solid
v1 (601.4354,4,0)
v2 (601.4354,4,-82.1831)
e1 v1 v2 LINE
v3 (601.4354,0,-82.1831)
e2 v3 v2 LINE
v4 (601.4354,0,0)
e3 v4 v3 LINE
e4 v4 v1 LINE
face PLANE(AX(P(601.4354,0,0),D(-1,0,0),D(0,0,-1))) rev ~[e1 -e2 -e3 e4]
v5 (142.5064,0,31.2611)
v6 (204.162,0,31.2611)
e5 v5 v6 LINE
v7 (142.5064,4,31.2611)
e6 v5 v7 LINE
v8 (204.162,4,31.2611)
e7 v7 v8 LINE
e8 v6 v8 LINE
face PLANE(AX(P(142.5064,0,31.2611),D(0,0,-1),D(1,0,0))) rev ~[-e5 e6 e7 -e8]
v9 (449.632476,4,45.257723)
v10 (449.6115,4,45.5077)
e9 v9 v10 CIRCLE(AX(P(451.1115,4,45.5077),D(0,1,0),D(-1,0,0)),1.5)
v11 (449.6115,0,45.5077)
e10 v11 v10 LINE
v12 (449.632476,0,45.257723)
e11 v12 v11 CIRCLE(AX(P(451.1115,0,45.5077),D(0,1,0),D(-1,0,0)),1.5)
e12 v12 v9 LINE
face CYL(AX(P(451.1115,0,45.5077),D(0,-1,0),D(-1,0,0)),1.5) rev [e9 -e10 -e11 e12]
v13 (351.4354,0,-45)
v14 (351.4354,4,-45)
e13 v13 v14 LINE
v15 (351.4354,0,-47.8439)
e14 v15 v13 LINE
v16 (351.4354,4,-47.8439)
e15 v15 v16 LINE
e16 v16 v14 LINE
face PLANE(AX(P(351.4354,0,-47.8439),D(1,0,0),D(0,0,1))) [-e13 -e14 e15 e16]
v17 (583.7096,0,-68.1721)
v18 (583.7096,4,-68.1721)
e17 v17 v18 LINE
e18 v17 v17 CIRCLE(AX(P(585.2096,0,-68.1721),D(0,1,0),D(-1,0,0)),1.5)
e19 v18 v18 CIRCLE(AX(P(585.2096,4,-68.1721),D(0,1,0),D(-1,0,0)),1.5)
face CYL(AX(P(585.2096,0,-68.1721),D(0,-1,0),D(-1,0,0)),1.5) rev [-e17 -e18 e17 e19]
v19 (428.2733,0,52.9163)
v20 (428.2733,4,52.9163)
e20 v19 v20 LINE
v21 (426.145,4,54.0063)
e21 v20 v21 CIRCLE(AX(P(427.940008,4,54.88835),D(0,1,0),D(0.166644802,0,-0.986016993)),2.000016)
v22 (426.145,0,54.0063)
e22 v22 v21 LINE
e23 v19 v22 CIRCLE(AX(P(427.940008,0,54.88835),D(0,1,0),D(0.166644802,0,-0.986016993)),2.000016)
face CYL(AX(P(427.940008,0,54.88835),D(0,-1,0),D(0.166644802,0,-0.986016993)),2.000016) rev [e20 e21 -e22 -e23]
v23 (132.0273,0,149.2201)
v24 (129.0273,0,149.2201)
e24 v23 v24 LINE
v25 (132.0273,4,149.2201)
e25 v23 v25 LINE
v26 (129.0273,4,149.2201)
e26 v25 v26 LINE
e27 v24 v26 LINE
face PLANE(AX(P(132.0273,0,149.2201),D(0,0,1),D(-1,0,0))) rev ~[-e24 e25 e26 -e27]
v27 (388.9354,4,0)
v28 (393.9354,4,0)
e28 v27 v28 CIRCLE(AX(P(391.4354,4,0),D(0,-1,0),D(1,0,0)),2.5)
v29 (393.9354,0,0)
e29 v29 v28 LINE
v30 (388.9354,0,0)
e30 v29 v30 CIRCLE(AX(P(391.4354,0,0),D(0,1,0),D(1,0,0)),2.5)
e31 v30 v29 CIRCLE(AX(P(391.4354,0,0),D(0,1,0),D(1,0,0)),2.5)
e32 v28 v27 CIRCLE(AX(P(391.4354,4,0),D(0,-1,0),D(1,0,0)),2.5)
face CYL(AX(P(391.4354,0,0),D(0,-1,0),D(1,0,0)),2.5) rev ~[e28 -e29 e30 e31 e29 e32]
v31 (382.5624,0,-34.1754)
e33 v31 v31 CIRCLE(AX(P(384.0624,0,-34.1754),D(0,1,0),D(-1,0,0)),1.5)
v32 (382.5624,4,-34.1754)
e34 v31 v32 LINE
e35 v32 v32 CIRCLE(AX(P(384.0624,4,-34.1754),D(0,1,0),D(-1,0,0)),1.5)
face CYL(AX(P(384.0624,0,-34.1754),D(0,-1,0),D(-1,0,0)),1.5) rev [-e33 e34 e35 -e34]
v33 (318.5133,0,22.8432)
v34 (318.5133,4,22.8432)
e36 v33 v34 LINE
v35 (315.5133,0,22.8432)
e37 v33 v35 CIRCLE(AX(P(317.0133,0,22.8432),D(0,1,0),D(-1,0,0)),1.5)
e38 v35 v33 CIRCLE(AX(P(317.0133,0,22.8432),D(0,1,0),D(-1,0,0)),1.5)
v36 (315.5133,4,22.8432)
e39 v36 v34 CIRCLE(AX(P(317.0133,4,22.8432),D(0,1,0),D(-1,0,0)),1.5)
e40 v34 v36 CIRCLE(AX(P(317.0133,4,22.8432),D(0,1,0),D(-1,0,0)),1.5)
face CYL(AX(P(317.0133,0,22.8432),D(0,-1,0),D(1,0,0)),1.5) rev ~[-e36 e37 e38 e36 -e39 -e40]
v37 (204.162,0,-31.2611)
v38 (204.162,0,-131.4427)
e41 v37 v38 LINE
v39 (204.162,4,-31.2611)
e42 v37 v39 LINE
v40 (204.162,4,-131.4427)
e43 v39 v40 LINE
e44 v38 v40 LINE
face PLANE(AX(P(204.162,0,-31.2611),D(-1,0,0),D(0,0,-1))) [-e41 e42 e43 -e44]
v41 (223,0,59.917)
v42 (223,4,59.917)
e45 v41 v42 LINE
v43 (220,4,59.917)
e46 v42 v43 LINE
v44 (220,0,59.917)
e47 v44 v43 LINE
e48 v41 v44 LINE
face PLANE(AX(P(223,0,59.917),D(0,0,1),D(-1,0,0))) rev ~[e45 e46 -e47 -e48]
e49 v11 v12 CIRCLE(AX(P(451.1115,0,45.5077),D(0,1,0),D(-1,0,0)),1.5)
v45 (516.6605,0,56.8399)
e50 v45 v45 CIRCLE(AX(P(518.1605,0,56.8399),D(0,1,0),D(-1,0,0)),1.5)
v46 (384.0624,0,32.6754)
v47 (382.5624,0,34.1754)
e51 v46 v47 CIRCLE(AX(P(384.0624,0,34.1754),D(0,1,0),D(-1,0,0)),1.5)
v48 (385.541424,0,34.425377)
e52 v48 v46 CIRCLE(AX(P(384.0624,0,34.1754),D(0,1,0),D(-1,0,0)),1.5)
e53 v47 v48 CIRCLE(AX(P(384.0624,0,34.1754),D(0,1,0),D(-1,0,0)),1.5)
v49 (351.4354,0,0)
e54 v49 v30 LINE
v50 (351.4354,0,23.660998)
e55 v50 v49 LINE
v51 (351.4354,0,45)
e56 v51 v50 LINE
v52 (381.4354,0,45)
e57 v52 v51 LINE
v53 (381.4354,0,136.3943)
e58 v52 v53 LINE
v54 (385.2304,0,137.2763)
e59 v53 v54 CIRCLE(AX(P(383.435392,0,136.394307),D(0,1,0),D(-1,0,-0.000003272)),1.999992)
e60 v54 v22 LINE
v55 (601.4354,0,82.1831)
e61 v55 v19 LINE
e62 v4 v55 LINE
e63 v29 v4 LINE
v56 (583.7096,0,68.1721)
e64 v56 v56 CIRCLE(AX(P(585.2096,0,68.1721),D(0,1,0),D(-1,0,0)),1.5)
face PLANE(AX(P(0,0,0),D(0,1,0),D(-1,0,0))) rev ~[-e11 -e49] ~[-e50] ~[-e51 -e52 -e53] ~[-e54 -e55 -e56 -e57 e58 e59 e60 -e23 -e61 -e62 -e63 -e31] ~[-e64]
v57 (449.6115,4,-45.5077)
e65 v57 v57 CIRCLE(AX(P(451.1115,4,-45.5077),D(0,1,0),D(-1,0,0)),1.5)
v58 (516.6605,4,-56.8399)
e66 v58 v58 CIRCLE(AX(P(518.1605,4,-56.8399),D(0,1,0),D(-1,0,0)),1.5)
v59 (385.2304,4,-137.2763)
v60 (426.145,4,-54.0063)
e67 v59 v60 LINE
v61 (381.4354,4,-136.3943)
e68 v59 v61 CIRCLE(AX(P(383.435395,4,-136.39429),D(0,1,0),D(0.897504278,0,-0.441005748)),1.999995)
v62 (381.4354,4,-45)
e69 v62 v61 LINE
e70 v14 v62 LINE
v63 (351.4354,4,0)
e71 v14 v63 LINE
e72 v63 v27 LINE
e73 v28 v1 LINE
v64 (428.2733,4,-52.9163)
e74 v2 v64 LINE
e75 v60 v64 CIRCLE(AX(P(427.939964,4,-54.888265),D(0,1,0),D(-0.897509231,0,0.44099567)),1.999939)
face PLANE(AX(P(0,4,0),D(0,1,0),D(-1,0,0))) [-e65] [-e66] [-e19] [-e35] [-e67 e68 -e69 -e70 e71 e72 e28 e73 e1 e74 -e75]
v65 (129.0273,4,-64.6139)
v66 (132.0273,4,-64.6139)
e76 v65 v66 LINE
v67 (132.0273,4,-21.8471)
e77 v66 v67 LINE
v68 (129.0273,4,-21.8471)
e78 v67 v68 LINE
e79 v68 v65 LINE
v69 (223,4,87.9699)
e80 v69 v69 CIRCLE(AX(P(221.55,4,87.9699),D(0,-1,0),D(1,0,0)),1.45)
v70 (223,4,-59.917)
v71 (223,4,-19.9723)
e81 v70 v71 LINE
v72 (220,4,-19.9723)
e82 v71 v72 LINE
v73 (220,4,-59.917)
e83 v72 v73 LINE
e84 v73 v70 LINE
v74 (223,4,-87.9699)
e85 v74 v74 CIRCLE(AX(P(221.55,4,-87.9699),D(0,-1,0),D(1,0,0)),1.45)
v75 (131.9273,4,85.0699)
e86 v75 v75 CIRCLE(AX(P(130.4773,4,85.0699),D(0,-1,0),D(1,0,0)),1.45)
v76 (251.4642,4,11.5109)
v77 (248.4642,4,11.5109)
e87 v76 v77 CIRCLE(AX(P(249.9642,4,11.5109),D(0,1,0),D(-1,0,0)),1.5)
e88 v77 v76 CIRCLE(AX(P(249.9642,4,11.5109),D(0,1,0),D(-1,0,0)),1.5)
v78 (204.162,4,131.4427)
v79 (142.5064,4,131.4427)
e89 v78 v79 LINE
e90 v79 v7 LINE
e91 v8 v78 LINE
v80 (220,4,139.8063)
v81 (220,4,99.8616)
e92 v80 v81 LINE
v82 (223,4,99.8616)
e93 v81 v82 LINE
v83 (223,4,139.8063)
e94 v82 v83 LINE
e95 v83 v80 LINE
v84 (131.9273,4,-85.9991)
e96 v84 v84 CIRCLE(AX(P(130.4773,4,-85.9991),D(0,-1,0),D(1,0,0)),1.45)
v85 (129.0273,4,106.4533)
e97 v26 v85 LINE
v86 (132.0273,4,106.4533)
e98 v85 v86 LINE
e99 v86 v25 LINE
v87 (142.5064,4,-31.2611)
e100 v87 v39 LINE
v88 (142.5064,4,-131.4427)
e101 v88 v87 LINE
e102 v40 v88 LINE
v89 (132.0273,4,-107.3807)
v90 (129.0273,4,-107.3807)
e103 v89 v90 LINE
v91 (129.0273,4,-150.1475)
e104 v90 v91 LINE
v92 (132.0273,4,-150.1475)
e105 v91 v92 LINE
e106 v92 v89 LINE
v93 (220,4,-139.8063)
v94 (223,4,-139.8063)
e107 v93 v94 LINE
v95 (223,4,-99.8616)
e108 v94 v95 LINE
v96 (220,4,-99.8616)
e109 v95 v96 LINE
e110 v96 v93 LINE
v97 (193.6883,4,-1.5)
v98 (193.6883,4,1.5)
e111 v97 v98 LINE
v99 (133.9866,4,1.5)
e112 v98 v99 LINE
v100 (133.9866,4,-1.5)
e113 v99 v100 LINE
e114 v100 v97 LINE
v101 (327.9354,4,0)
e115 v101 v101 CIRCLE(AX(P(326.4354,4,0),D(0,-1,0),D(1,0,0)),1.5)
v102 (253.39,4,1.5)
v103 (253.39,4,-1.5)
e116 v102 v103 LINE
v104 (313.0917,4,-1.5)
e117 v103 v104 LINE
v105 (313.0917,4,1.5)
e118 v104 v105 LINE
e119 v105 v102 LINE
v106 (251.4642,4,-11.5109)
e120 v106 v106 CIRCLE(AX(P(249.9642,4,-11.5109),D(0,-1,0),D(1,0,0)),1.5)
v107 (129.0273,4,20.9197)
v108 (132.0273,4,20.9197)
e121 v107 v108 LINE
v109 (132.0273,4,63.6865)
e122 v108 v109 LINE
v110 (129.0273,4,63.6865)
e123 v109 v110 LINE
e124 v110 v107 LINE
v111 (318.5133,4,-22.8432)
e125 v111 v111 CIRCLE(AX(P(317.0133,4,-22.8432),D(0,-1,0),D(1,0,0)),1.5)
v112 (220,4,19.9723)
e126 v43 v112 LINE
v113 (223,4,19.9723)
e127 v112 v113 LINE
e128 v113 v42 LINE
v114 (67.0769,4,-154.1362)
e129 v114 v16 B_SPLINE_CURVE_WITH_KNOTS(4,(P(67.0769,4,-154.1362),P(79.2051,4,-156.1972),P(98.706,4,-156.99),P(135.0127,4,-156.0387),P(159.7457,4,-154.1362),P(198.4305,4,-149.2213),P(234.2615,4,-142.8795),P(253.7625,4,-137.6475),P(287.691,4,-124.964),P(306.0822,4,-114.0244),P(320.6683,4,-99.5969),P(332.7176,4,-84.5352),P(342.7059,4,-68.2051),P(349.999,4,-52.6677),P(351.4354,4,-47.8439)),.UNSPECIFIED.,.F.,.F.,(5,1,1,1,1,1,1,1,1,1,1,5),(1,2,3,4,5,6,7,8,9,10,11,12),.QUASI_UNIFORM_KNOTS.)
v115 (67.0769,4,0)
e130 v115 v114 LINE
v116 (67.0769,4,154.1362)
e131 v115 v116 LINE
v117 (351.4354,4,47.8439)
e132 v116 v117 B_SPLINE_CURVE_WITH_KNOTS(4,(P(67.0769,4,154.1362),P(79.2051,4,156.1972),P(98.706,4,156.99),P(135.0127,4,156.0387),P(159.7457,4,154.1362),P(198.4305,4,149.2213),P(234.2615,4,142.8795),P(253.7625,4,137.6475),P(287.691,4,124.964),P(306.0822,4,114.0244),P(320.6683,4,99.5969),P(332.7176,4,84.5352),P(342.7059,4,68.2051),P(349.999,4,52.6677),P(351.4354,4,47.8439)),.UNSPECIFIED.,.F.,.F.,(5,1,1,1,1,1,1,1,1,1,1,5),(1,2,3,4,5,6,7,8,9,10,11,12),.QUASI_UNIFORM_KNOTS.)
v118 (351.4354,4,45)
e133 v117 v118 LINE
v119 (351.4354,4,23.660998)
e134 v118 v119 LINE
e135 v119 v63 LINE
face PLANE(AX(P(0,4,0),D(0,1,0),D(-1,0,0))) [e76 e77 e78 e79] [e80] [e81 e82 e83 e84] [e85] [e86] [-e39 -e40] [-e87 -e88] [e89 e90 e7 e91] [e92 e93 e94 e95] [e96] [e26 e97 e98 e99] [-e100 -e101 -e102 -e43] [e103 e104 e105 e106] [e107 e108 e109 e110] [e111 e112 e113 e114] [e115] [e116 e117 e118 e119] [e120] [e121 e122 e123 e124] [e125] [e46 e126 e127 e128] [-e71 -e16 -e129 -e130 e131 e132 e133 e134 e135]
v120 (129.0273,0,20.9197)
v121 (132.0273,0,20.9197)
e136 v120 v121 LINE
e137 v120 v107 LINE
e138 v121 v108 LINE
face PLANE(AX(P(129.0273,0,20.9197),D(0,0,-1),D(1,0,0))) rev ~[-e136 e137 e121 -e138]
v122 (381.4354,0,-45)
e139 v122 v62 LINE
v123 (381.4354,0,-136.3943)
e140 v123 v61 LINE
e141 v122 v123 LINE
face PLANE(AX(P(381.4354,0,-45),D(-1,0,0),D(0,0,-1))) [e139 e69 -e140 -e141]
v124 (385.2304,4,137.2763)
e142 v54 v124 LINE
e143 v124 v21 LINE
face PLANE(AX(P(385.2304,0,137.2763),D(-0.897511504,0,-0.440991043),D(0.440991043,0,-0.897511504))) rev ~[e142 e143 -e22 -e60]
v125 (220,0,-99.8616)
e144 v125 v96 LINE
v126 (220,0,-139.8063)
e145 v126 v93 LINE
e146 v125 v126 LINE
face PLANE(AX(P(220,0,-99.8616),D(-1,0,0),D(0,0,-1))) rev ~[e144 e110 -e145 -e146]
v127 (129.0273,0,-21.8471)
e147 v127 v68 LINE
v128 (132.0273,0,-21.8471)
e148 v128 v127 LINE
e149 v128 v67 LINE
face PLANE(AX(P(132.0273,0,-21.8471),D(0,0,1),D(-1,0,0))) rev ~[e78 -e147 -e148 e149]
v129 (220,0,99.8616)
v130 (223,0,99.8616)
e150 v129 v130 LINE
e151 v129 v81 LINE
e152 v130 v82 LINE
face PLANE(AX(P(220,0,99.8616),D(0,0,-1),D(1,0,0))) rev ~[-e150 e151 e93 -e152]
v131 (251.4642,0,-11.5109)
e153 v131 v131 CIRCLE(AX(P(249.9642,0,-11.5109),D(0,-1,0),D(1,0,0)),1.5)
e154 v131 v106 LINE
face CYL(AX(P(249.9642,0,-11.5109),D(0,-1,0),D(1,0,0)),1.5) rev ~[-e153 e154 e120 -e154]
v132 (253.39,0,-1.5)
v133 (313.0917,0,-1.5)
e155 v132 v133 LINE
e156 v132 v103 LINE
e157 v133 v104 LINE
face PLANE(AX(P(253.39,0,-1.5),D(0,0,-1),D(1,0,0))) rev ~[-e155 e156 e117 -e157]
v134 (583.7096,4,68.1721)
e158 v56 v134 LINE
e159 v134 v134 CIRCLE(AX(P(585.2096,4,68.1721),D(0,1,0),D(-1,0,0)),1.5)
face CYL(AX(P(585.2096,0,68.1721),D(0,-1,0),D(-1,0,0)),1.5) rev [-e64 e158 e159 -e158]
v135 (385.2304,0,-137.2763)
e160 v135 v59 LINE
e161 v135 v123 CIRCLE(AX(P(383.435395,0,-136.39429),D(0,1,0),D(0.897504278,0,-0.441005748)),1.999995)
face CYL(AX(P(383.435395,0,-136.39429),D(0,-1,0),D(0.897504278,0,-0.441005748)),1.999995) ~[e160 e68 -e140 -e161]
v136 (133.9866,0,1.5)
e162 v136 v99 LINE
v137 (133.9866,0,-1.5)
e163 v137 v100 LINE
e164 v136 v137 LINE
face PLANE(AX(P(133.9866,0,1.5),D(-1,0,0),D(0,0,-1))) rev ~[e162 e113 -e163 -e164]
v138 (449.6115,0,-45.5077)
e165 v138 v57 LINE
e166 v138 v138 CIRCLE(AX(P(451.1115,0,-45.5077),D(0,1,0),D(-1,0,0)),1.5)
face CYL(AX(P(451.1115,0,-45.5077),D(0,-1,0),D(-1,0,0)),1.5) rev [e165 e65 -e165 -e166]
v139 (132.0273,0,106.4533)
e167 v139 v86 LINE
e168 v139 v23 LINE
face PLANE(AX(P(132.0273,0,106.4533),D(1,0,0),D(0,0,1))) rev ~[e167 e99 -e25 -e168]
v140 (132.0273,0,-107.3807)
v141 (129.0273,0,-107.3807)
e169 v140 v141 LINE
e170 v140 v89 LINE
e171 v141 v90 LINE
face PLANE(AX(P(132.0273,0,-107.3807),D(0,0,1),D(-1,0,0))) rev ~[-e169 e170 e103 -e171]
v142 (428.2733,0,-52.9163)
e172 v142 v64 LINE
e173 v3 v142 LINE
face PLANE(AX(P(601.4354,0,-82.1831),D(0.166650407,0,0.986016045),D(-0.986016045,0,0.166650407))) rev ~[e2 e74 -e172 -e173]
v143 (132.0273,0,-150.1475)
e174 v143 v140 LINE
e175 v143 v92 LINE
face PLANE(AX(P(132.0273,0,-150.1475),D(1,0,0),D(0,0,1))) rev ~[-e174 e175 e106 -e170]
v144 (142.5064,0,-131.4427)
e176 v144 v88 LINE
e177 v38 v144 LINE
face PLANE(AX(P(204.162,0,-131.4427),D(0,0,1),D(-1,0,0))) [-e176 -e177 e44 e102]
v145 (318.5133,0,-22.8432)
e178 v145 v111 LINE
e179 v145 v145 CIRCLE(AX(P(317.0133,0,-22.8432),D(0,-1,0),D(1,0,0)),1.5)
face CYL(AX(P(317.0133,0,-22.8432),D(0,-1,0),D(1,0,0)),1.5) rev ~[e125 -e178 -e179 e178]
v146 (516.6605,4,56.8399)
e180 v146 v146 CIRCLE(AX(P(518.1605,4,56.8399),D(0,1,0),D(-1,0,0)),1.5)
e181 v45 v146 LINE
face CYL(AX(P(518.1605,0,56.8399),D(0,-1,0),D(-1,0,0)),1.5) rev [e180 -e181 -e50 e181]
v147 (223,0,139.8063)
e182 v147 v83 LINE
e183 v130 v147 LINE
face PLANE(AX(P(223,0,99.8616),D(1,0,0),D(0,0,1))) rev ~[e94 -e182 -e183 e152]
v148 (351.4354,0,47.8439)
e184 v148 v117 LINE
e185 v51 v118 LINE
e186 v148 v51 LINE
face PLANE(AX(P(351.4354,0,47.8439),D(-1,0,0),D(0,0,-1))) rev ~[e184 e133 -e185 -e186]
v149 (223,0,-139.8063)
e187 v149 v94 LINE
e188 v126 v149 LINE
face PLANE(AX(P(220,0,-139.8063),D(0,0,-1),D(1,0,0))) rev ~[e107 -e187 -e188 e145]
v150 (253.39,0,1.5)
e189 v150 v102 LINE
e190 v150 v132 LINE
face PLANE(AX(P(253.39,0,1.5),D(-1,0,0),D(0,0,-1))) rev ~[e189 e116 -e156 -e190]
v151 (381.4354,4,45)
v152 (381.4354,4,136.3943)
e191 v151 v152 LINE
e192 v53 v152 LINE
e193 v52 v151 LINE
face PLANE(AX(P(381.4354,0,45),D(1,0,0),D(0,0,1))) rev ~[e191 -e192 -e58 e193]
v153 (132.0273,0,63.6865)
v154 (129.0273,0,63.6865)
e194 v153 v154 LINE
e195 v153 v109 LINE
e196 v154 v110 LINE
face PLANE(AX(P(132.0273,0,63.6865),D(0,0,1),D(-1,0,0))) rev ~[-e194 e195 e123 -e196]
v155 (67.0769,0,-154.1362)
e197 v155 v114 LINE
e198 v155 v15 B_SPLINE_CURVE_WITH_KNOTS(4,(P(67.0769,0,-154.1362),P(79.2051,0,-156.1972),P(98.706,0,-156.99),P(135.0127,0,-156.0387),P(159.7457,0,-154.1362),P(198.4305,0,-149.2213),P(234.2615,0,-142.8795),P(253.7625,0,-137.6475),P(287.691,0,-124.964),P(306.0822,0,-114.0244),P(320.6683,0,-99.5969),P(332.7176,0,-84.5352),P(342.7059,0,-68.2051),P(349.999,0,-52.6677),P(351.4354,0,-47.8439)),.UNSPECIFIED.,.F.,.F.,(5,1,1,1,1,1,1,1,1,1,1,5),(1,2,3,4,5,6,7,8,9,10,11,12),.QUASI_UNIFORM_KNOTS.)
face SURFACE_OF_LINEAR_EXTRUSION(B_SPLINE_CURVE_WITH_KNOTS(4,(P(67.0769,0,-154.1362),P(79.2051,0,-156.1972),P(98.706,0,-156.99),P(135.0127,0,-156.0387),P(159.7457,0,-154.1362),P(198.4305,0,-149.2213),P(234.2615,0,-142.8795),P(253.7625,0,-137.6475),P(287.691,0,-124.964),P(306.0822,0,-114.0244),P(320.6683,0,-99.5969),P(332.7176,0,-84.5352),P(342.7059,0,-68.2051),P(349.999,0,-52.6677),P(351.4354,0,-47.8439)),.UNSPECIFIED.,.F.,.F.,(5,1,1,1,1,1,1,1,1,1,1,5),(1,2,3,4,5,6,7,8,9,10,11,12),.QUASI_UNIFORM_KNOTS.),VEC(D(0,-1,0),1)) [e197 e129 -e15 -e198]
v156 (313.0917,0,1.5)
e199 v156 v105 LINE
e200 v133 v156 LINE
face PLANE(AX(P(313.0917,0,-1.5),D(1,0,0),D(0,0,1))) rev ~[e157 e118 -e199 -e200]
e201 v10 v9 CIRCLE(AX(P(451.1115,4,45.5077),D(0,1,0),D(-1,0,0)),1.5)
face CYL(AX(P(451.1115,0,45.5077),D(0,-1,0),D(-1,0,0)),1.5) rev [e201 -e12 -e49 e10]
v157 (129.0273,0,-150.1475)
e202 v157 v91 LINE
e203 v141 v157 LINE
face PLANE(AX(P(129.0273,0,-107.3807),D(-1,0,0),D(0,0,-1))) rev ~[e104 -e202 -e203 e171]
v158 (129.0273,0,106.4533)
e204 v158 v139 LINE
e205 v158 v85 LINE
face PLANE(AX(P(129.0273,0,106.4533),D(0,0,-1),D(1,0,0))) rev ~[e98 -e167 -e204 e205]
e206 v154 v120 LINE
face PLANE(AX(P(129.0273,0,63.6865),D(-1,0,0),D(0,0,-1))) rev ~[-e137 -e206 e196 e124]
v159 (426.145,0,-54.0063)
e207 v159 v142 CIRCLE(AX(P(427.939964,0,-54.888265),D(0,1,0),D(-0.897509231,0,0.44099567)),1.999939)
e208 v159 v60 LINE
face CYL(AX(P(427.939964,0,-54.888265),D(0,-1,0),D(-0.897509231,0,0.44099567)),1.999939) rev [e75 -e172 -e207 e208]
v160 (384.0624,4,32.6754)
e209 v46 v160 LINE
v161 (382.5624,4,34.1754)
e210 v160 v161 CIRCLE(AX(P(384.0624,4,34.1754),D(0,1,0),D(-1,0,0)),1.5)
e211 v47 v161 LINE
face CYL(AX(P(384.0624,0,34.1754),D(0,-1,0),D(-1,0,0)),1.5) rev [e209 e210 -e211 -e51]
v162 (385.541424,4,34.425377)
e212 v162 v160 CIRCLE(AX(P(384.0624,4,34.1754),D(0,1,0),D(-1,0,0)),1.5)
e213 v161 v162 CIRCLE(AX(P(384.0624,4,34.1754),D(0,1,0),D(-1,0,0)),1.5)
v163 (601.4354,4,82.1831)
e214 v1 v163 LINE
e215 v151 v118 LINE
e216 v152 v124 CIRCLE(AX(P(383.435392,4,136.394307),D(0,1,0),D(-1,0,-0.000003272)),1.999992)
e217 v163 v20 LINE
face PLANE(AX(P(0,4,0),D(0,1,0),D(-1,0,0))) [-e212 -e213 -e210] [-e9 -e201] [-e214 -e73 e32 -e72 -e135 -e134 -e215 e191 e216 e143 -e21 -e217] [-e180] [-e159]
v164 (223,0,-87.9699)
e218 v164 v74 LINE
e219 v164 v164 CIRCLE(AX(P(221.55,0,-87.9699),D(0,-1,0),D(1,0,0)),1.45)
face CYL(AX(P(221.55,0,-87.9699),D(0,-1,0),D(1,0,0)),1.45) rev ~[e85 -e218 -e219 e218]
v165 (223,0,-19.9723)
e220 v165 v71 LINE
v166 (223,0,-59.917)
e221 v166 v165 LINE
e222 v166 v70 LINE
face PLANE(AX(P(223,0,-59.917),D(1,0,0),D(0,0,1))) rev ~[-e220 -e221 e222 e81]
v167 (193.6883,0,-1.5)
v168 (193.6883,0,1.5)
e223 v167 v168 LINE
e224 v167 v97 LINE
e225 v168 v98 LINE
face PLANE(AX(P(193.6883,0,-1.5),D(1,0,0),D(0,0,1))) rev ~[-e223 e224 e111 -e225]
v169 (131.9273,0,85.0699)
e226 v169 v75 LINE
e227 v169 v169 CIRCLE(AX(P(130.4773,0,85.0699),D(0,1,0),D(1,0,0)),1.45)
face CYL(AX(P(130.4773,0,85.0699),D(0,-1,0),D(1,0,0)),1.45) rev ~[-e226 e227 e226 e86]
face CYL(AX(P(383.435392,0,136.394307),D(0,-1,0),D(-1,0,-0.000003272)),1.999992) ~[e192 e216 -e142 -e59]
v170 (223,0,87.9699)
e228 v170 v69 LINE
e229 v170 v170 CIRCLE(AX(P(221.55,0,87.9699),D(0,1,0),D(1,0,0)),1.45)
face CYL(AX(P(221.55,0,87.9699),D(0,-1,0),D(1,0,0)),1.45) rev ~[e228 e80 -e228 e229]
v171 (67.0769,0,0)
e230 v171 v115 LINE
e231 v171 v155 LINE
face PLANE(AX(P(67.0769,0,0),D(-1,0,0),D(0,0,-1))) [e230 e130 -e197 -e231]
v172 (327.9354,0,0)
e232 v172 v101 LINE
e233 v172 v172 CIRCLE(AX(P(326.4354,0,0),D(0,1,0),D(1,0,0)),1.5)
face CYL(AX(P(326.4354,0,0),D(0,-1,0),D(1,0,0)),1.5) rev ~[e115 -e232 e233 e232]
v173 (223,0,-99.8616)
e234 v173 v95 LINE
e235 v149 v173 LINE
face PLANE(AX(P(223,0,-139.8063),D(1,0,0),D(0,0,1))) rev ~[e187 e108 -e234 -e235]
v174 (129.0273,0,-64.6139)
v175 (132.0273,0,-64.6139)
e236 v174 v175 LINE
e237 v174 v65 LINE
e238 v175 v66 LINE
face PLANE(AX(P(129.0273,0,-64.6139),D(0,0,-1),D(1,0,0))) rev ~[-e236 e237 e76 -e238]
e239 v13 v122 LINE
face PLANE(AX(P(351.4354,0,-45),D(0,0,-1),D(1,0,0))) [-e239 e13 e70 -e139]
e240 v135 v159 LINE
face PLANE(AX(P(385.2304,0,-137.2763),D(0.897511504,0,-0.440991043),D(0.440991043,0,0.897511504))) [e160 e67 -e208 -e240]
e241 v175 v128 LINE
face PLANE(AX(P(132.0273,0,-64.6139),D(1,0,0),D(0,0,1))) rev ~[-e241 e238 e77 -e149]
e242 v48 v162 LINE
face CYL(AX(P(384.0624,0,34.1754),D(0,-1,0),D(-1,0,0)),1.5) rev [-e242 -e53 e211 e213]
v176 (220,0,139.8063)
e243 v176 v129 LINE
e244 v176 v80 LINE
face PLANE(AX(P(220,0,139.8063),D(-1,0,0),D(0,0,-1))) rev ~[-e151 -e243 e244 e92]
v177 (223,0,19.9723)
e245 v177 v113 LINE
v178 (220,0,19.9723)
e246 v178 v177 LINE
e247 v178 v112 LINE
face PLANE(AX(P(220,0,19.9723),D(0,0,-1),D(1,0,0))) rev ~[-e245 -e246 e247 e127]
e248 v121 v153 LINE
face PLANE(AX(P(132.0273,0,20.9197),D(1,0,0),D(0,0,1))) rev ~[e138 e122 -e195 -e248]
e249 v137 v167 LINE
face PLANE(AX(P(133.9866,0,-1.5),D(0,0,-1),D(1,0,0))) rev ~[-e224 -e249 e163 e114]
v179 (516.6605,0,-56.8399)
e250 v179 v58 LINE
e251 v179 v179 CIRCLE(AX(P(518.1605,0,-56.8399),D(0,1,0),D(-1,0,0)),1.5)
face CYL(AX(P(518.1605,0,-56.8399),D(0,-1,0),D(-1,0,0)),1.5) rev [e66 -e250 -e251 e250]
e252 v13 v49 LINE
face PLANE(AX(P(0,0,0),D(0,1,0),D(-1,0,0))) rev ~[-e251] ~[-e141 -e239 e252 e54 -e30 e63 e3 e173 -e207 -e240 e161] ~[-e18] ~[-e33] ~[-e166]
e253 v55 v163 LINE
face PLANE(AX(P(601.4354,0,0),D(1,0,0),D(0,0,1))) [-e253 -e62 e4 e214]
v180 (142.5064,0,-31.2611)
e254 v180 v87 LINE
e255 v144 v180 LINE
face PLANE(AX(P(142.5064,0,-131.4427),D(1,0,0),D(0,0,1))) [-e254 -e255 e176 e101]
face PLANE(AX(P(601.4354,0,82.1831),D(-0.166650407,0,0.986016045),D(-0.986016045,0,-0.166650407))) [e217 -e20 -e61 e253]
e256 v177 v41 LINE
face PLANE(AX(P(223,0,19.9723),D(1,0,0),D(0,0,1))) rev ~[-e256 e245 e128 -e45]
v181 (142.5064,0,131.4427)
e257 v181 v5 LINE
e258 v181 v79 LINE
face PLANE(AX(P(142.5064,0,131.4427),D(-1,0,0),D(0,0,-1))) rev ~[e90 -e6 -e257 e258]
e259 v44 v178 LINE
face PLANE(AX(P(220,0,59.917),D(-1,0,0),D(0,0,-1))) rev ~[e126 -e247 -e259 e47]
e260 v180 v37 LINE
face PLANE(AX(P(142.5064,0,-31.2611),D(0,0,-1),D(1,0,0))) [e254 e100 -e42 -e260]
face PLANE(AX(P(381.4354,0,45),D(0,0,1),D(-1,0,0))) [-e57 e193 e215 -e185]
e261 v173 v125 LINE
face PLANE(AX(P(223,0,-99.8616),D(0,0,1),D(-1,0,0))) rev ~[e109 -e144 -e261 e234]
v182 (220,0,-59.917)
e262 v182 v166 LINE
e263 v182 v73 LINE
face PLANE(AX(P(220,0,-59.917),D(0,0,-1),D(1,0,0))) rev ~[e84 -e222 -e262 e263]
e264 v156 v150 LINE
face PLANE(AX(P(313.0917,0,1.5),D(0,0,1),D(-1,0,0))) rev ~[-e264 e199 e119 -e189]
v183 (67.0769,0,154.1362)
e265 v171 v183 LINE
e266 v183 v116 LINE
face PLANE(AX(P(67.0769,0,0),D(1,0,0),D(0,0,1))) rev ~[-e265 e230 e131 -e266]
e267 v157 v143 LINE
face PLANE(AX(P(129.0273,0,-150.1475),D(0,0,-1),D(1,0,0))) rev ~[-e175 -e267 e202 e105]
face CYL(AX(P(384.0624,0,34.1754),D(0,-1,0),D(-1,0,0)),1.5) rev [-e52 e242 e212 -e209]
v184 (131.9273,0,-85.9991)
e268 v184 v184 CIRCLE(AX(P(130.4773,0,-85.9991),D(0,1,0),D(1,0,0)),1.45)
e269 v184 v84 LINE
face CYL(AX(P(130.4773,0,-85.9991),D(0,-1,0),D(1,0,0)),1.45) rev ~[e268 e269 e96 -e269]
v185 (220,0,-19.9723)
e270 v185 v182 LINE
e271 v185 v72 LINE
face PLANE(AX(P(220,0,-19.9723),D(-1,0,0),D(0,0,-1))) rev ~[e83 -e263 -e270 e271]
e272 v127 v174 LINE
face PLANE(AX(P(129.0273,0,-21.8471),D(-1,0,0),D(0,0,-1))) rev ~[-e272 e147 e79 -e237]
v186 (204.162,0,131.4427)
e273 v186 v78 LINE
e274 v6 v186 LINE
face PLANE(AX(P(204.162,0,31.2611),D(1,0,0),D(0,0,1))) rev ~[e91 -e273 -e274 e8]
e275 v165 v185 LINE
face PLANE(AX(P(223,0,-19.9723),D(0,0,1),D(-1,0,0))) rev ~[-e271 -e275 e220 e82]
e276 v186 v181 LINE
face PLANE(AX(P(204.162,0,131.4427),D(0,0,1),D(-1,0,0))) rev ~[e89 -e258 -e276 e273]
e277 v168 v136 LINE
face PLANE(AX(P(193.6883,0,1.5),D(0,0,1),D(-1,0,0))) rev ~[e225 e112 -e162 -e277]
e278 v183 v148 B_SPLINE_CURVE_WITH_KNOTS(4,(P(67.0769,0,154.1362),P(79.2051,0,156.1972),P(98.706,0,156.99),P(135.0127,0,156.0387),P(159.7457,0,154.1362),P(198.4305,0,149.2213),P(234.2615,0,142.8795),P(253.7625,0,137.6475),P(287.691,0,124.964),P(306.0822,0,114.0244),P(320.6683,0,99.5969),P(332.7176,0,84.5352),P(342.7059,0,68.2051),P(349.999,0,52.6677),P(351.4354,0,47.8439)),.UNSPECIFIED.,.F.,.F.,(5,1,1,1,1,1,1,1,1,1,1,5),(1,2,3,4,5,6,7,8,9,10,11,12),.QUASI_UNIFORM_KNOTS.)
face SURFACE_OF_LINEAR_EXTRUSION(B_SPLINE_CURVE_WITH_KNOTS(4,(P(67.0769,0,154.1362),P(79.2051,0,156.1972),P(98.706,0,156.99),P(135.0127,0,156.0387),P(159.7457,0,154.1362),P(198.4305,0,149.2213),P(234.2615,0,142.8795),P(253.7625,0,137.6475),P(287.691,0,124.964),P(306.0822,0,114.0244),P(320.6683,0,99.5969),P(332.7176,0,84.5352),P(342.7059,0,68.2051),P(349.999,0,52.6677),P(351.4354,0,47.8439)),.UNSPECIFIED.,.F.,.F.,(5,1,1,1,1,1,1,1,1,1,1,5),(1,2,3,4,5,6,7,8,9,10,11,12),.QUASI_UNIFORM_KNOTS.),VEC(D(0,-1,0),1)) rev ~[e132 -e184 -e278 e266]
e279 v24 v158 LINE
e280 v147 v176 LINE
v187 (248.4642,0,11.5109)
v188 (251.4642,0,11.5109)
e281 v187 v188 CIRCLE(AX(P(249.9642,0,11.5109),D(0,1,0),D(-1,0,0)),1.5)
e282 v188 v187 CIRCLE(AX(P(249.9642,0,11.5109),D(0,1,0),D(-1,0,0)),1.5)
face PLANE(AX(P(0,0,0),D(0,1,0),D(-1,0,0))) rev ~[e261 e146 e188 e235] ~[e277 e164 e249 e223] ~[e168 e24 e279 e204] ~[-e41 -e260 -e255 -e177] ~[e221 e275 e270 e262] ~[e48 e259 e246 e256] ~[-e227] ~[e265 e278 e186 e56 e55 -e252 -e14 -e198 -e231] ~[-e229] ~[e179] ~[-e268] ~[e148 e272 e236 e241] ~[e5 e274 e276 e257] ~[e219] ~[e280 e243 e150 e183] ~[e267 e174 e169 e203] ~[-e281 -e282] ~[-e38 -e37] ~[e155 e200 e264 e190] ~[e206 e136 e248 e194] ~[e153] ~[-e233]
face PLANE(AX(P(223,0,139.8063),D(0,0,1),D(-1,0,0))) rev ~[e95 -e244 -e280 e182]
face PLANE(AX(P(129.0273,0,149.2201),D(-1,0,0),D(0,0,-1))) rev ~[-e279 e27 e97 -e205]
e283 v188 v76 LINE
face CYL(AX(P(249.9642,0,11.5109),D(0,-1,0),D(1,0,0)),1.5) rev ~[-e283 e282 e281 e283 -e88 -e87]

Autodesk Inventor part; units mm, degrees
ref_plane "YZ Plane" through (0, 0, 0) normal (1, 0, 0) x (0, 1, 0)
sketch "Эскиз1" plane through (0, 0, 0) normal (0, 1, 0) x (-1, 0, 0)
  line L0 (0, 0) -> (-339.5216, 0)
  line L1 (-129.0273, 2.0017) -> (-132.0273, 2.0017) construction
  line L2 (-132.0273, 20.9197) -> (-132.0273, 2.0017) construction
  line L3 (-132.0273, 20.9197) -> (-129.0273, 20.9197) construction
  line L4 (-129.0273, 20.9197) -> (-129.0273, 2.0017) construction
  line L5 (-129.0273, 2.0017) -> (-129.0273, -5.9794)
  line L6 (-10.1099, 0) -> (-40.1099, 0)
  line L7 (-67.0769, -154.1362) -> (-79.2051, -156.1972) construction
  line L8 (-79.2051, -156.1972) -> (-98.706, -156.99) construction
  line L9 (-98.706, -156.99) -> (-135.0127, -156.0387) construction
  line L10 (-135.0127, -156.0387) -> (-159.7457, -154.1362) construction
  line L11 (-159.7457, -154.1362) -> (-198.4305, -149.2213) construction
  line L12 (-198.4305, -149.2213) -> (-234.2615, -142.8795) construction
  line L13 (-234.2615, -142.8795) -> (-253.7625, -137.6475) construction
  line L14 (-253.7625, -137.6475) -> (-287.691, -124.964) construction
  line L15 (-287.691, -124.964) -> (-306.0822, -114.0244) construction
  line L16 (-306.0822, -114.0244) -> (-320.6683, -99.5969) construction
  line L17 (-320.6683, -99.5969) -> (-332.7176, -84.5352) construction
  line L18 (-332.7176, -84.5352) -> (-342.7059, -68.2051) construction
  line L19 (-342.7059, -68.2051) -> (-349.999, -52.6677) construction
  line L20 (-349.999, -52.6677) -> (-351.4354, -47.8439) construction
  spline S0 degree 4 poles (-67.0769, -154.1362) (-79.2051, -156.1972) (-98.706, -156.99) (-135.0127, -156.0387) (-159.7457, -154.1362) (-198.4305, -149.2213) (-234.2615, -142.8795) (-253.7625, -137.6475) (-287.691, -124.964) (-306.0822, -114.0244) (-320.6683, -99.5969) (-332.7176, -84.5352) (-342.7059, -68.2051) (-349.999, -52.6677) (-351.4354, -47.8439) knots 1 1 1 1 1 2 3 4 5 6 7 8 9 10 11 12 12 12 12 12
  line L21 (-351.4354, -47.8439) -> (-351.4354, 0)
  line L22 (-67.0769, 154.1362) -> (-79.2051, 156.1972) construction
  line L23 (-79.2051, 156.1972) -> (-98.706, 156.99) construction
  line L24 (-98.706, 156.99) -> (-135.0127, 156.0387) construction
  line L25 (-135.0127, 156.0387) -> (-159.7457, 154.1362) construction
  line L26 (-159.7457, 154.1362) -> (-198.4305, 149.2213) construction
  line L27 (-198.4305, 149.2213) -> (-234.2615, 142.8795) construction
  line L28 (-234.2615, 142.8795) -> (-253.7625, 137.6475) construction
  line L29 (-253.7625, 137.6475) -> (-287.691, 124.964) construction
  line L30 (-287.691, 124.964) -> (-306.0822, 114.0244) construction
  line L31 (-306.0822, 114.0244) -> (-320.6683, 99.5969) construction
  line L32 (-320.6683, 99.5969) -> (-332.7176, 84.5352) construction
  line L33 (-332.7176, 84.5352) -> (-342.7059, 68.2051) construction
  line L34 (-342.7059, 68.2051) -> (-349.999, 52.6677) construction
  line L35 (-349.999, 52.6677) -> (-351.4354, 47.8439) construction
  spline S1 degree 4 poles (-67.0769, 154.1362) (-79.2051, 156.1972) (-98.706, 156.99) (-135.0127, 156.0387) (-159.7457, 154.1362) (-198.4305, 149.2213) (-234.2615, 142.8795) (-253.7625, 137.6475) (-287.691, 124.964) (-306.0822, 114.0244) (-320.6683, 99.5969) (-332.7176, 84.5352) (-342.7059, 68.2051) (-349.999, 52.6677) (-351.4354, 47.8439) knots 1 1 1 1 1 2 3 4 5 6 7 8 9 10 11 12 12 12 12 12
  line L36 (-351.4354, 47.8439) -> (-351.4354, 0)
  line L37 (-144.7435, 0) -> (-67.0769, 0)
  line L38 (-67.0769, 0) -> (-67.0769, -154.1362)
  line L39 (-67.0769, 154.1362) -> (-79.2051, 156.1972) construction
  line L40 (-79.2051, 156.1972) -> (-98.706, 156.99) construction
  line L41 (-98.706, 156.99) -> (-135.0127, 156.0387) construction
  line L42 (-135.0127, 156.0387) -> (-159.7457, 154.1362) construction
  line L43 (-159.7457, 154.1362) -> (-198.4305, 149.2213) construction
  line L44 (-198.4305, 149.2213) -> (-234.2615, 142.8795) construction
  line L45 (-234.2615, 142.8795) -> (-253.7625, 137.6475) construction
  line L46 (-253.7625, 137.6475) -> (-287.691, 124.964) construction
  line L47 (-287.691, 124.964) -> (-306.0822, 114.0244) construction
  line L48 (-306.0822, 114.0244) -> (-320.6683, 99.5969) construction
  line L49 (-320.6683, 99.5969) -> (-332.7176, 84.5352) construction
  line L50 (-332.7176, 84.5352) -> (-342.7059, 68.2051) construction
  line L51 (-342.7059, 68.2051) -> (-349.999, 52.6677) construction
  line L52 (-349.999, 52.6677) -> (-351.4354, 47.8439) construction
  spline S2 degree 4 poles (-67.0769, 154.1362) (-79.2051, 156.1972) (-98.706, 156.99) (-135.0127, 156.0387) (-159.7457, 154.1362) (-198.4305, 149.2213) (-234.2615, 142.8795) (-253.7625, 137.6475) (-287.691, 124.964) (-306.0822, 114.0244) (-320.6683, 99.5969) (-332.7176, 84.5352) (-342.7059, 68.2051) (-349.999, 52.6677) (-351.4354, 47.8439) knots 1 1 1 1 1 2 3 4 5 6 7 8 9 10 11 12 12 12 12 12
  line L53 (-351.4354, 47.8439) -> (-351.4354, 0)
  line L54 (-67.0769, 0) -> (-67.0769, 154.1362)
  line L55 (-381.4354, -45) -> (-381.4354, 45) construction
  line L56 (-381.4354, 45) -> (-381.4354, -45) construction
  line L57 (-381.4354, -45) -> (-601.4354, -45) construction
  line L58 (-601.4354, -45) -> (-601.4354, 45) construction
  line L59 (-601.4354, 45) -> (-381.4354, 45) construction
  line L60 (-601.4354, 0) -> (-601.4354, 82.1831)
  line L61 (-601.4354, 82.1831) -> (-428.2733, 52.9163)
  line L62 (-601.4354, -82.1831) -> (-428.2733, -52.9163)
  line L63 (-601.4354, 0) -> (-601.4354, -82.1831)
  circle A0 centre (-384.0624, 34.1754) radius 1.5
  circle A1 centre (-451.1115, 45.5077) radius 1.5
  circle A2 centre (-518.1605, 56.8399) radius 1.5
  circle A3 centre (-585.2096, 68.1721) radius 1.5
  circle A4 centre (-384.0624, -34.1754) radius 1.5
  circle A5 centre (-451.1115, -45.5077) radius 1.5
  circle A6 centre (-518.1605, -56.8399) radius 1.5
  circle A7 centre (-585.2096, -68.1721) radius 1.5
  line L64 (-381.4354, 45) -> (-351.4354, 45)
  line L65 (-351.4354, 45) -> (-351.4354, -45)
  line L66 (-351.4354, -45) -> (-381.4354, -45)
  line L67 (-381.4354, 45) -> (-381.4354, 136.3943)
  line L68 (-351.4354, 0) -> (-601.4354, 0)
  line L69 (-381.4354, -45) -> (-381.4354, -136.3943)
  line L70 (-385.2304, 137.2763) -> (-426.145, 54.0063)
  line L71 (-385.2304, -137.2763) -> (-426.145, -54.0063)
  arc A8 (-381.4354, 136.3943) -> (-385.2304, 137.2763) centre (-383.4354, 136.3943) ccw
  arc A9 (-385.2304, -137.2763) -> (-381.4354, -136.3943) centre (-383.4354, -136.3943) ccw
  arc A10 (-428.2733, 52.9163) -> (-426.145, 54.0063) centre (-427.94, 54.8883) ccw
  arc A11 (-426.145, -54.0063) -> (-428.2733, -52.9163) centre (-427.94, -54.8883) ccw
  line L72 (-384.0624, 34.1754) -> (-384.0624, 29.1754)
  line L73 (-384.0624, 34.1754) -> (-451.1115, 45.5077)
  line L74 (-384.0624, 29.1754) -> (-317.0133, 17.8432)
  circle A12 centre (-317.0133, 22.8432) radius 1.5
  circle A13 centre (-249.9642, 11.5109) radius 1.5
  point P0 (-144.7435, 57.7778)
  point P1 (-348.156, -376.0114)
  point P2 (-338.102, 45)
  point P3 (-338.102, -45)
  point P4 (-381.4354, 145)
  point P5 (-381.4354, -145)
  point P6 (-426.8027, -52.6677)
  point P7 (-426.8027, 52.6677)
  point P8 (-381.4354, -45)
  point P9 (-351.4354, 0)
  point P10 (-351.4354, 0)
  dimension "d42" = 30
  dimension "d86" = 90
  dimension "d87" = 90
  dimension "d88" = 220
  dimension "d89" = 30
  dimension "d102" = 100
  dimension "d103" = 2
  dimension "d104" = 2
  dimension "d105" = 5
  dimension "d106" = 68
  dimension "d107" = 3
  dimension "d109" = 3
ref_plane "РабПлоскость11" through (0, 0, 0) normal (0, -1, 0) x (1, 0, 0)
sketch "Эскиз2" plane through (0, 0, 0) normal (0, -1, 0) x (1, 0, 0)
  line L0 (223, 59.917) -> (220, 59.917) projected
  line L1 (220, 59.917) -> (220, 19.9723) projected
  line L2 (220, 19.9723) -> (223, 19.9723) projected
  line L3 (223, 19.9723) -> (223, 59.917) projected
  line L4 (220, 99.8616) -> (223, 99.8616) projected
  line L5 (223, 99.8616) -> (223, 139.8063) projected
  line L6 (223, 139.8063) -> (220, 139.8063) projected
  line L7 (220, 139.8063) -> (220, 99.8616) projected
  line L8 (223, -19.9723) -> (220, -19.9723) projected
  line L9 (220, -19.9723) -> (220, -59.917) projected
  line L10 (220, -59.917) -> (223, -59.917) projected
  line L11 (223, -59.917) -> (223, -19.9723) projected
  line L12 (223, -99.8616) -> (220, -99.8616) projected
  line L13 (220, -99.8616) -> (220, -139.8063) projected
  line L14 (220, -139.8063) -> (223, -139.8063) projected
  line L15 (223, -139.8063) -> (223, -99.8616) projected
  line L16 (220, 19.9723) -> (219.5, 19.9723)
  line L17 (219.5, 19.9723) -> (219.5, 59.917)
  line L18 (219.5, 59.917) -> (220, 59.917)
  line L19 (223, 59.917) -> (223.5, 59.917)
  line L20 (223.5, 59.917) -> (223.5, 19.9723)
  line L21 (223.5, 19.9723) -> (223, 19.9723)
  line L22 (220, 99.8616) -> (219.5, 99.8616)
  line L23 (219.5, 99.8616) -> (219.5, 139.8063)
  line L24 (219.5, 139.8063) -> (220, 139.8063)
  line L25 (223, 99.8616) -> (223.5, 99.8616)
  line L26 (223.5, 99.8616) -> (223.5, 139.8063)
  line L27 (223.5, 139.8063) -> (223, 139.8063)
  line L28 (197.5179, 0) -> (240.56, 0)
  line L29 (223, -59.917) -> (220, -59.917)
  line L30 (220, -59.917) -> (220, -19.9723)
  line L31 (220, -19.9723) -> (223, -19.9723)
  line L32 (223, -19.9723) -> (223, -59.917)
  line L33 (220, -99.8616) -> (223, -99.8616)
  line L34 (223, -99.8616) -> (223, -139.8063)
  line L35 (223, -139.8063) -> (220, -139.8063)
  line L36 (220, -139.8063) -> (220, -99.8616)
  line L37 (220, -19.9723) -> (219.5, -19.9723)
  line L38 (219.5, -19.9723) -> (219.5, -59.917)
  line L39 (219.5, -59.917) -> (220, -59.917)
  line L40 (223, -59.917) -> (223.5, -59.917)
  line L41 (223.5, -59.917) -> (223.5, -19.9723)
  line L42 (223.5, -19.9723) -> (223, -19.9723)
  line L43 (220, -99.8616) -> (219.5, -99.8616)
  line L44 (219.5, -99.8616) -> (219.5, -139.8063)
  line L45 (219.5, -139.8063) -> (220, -139.8063)
  line L46 (223, -99.8616) -> (223.5, -99.8616)
  line L47 (223.5, -99.8616) -> (223.5, -139.8063)
  line L48 (223.5, -139.8063) -> (223, -139.8063)
  point P0 (0, 0)
  dimension "d67" = 3
  dimension "d68" = 0.5
  dimension "d69" = 0.5
  dimension "d70" = 0.5
  dimension "d71" = 0.5
ref_plane "РабПлоскость10" through (0, 0, 0) normal (0, -1, 0) x (1, 0, 0)
sketch "Эскиз3" plane through (0, 0, 0) normal (0, -1, 0) x (1, 0, 0)
  line L0 (129.0273, -150.1475) -> (132.0273, -150.1475) projected
  line L1 (132.0273, -150.1475) -> (132.0273, -107.3807) projected
  line L2 (132.0273, -107.3807) -> (129.0273, -107.3807) projected
  line L3 (129.0273, -107.3807) -> (129.0273, -150.1475) projected
  line L4 (132.0273, -64.6139) -> (132.0273, -21.8471) projected
  line L5 (132.0273, -21.8471) -> (129.0273, -21.8471) projected
  line L6 (129.0273, -21.8471) -> (129.0273, -64.6139) projected
  line L7 (129.0273, -64.6139) -> (132.0273, -64.6139) projected
  line L8 (129.0273, 63.6865) -> (129.0273, 20.9197) projected
  line L9 (132.0273, 20.9197) -> (132.0273, 63.6865) projected
  line L10 (132.0273, 63.6865) -> (129.0273, 63.6865) projected
  line L11 (129.0273, 63.6865) -> (129.0273, 20.9197) projected
  line L12 (129.0273, 20.9197) -> (132.0273, 20.9197) projected
  line L13 (129.0273, 149.2201) -> (129.0273, 106.4533) projected
  line L14 (129.0273, 106.4533) -> (132.0273, 106.4533) projected
  line L15 (132.0273, 106.4533) -> (132.0273, 149.2201) projected
  line L16 (132.0273, 149.2201) -> (129.0273, 149.2201) projected
  line L17 (129.0273, 149.2201) -> (129.0273, 106.4533) projected
  line L18 (129.0273, 20.9197) -> (128.5273, 20.9197)
  line L19 (128.5273, 20.9197) -> (128.5273, 63.6865)
  line L20 (128.5273, 63.6865) -> (129.0273, 63.6865)
  line L21 (132.0273, 63.6865) -> (132.5273, 63.6865)
  line L22 (132.5273, 63.6865) -> (132.5273, 20.9197)
  line L23 (132.5273, 20.9197) -> (132.0273, 20.9197)
  line L24 (129.0273, 106.4533) -> (128.5273, 106.4533)
  line L25 (128.5273, 106.4533) -> (128.5273, 149.2201)
  line L26 (128.5273, 149.2201) -> (129.0273, 149.2201)
  line L27 (132.0273, 149.2201) -> (132.5273, 149.2201)
  line L28 (132.5273, 149.2201) -> (132.5273, 106.4533)
  line L29 (132.0273, 106.4533) -> (132.5273, 106.4533)
  line L30 (121.8366, 0) -> (139.2752, 0)
  line L31 (129.0273, -150.1475) -> (128.5273, -150.1475)
  line L32 (128.5273, -150.1475) -> (128.5273, -107.3807)
  line L33 (128.5273, -107.3807) -> (129.0273, -107.3807)
  line L34 (132.0273, -107.3807) -> (132.5273, -107.3807)
  line L35 (132.5273, -107.3807) -> (132.5273, -150.1475)
  line L36 (132.5273, -150.1475) -> (132.0273, -150.1475)
  line L37 (129.0273, -64.6139) -> (128.5273, -64.6139)
  line L38 (128.5273, -64.6139) -> (128.5273, -21.8471)
  line L39 (128.5273, -21.8471) -> (129.0273, -21.8471)
  line L40 (132.0273, -21.8471) -> (132.5273, -21.8471)
  line L41 (132.5273, -21.8471) -> (132.5273, -64.6139)
  line L42 (132.0273, -64.6139) -> (132.5273, -64.6139)
  point P0 (0, 0)
  dimension "d72" = 0.5
  dimension "d73" = 0.5
  dimension "d74" = 0.5
ref_plane "РабПлоскость9" through (0, 0, 0) normal (0, -1, 0) x (1, 0, 0)
sketch "Эскиз6" plane through (0, 0, 0) normal (0, -1, 0) x (1, 0, 0)
  line L0 (74.396, 0) -> (255.7791, 0)
  line L1 (174.802, 33.2852) -> (169.6077, 33.2852) projected
  line L2 (180.6651, 129.1508) -> (169.6077, 129.1508) projected
  line L3 (145.3577, 104.101) -> (145.3577, 81.101) projected
  line L4 (142.5064, 31.2611) -> (204.162, 31.2611)
  line L5 (204.162, 31.2611) -> (204.162, 131.4427)
  line L6 (204.162, 131.4427) -> (142.5064, 131.4427)
  line L7 (142.5064, 131.4427) -> (142.5064, 31.2611)
  line L8 (174.802, -33.2852) -> (169.6077, -33.2852)
  line L9 (180.6651, -129.1508) -> (169.6077, -129.1508)
  line L10 (145.3577, -104.101) -> (145.3577, -81.101)
  line L11 (142.5064, -31.2611) -> (204.162, -31.2611)
  line L12 (204.162, -31.2611) -> (204.162, -131.4427)
  line L13 (204.162, -131.4427) -> (142.5064, -131.4427)
  line L14 (142.5064, -131.4427) -> (142.5064, -31.2611)
  point P0 (0, 0)
ref_plane "РабПлоскость8" through (0, 0, 0) normal (0, -1, 0) x (1, 0, 0)
sketch "Эскиз7" plane through (0, 0, 0) normal (0, -1, 0) x (1, 0, 0)
  line L0 (193.6883, 1.5) -> (133.9866, 1.5) projected
  line L1 (133.9866, -1.5) -> (193.6883, -1.5) projected
  line L2 (193.6883, -1.5) -> (193.6883, 1.5) projected
  line L3 (193.6883, 1.5) -> (133.9866, 1.5) projected
  line L4 (133.9866, 1.5) -> (133.9866, -1.5) projected
  line L5 (193.6883, 1.5) -> (133.9866, 1.5) projected
  line L6 (133.9866, -1.5) -> (193.6883, -1.5) projected
  line L7 (133.9866, 1.5) -> (133.9866, -1.5) projected
  line L8 (133.9866, -1.5) -> (193.6883, -1.5) projected
  line L9 (193.6883, -1.5) -> (193.6883, 1.5) projected
  line L10 (133.9866, 1.5) -> (133.9866, -1.5) projected
  line L11 (193.6883, -1.5) -> (193.6883, 1.5) projected
  line L12 (133.9866, 1.5) -> (133.9866, 2)
  line L13 (133.9866, 2) -> (193.6883, 2)
  line L14 (193.6883, 2) -> (193.6883, 1.5)
  line L15 (193.6883, -1.5) -> (193.6883, -2)
  line L16 (193.6883, -2) -> (133.9866, -2)
  line L17 (133.9866, -2) -> (133.9866, -1.5)
  point P0 (0, 0)
  dimension "d75" = 0.5
  dimension "d76" = 0.5
ref_plane "РабПлоскость7" through (0, 0, 0) normal (0, -1, 0) x (1, 0, 0)
sketch "Эскиз8" plane through (0, 0, 0) normal (0, -1, 0) x (1, 0, 0)
  line L0 (132.0273, 82.3199) -> (132.0273, 83.6199) projected
  line L1 (129.0273, 82.3199) -> (132.0273, 82.3199) projected
  line L2 (129.0273, 83.6199) -> (129.0273, 82.3199) projected
  line L3 (129.0273, 83.6199) -> (132.0273, 83.6199) projected
  line L4 (132.0273, 86.5199) -> (132.0273, 87.8199) projected
  line L5 (129.0273, 86.5199) -> (132.0273, 86.5199) projected
  line L6 (129.0273, 87.8199) -> (129.0273, 86.5199) projected
  line L7 (129.0273, 87.8199) -> (132.0273, 87.8199) projected
  line L8 (129.0273, 83.6199) -> (132.0273, 83.6199)
  line L9 (132.0273, 83.6199) -> (132.0273, 86.5199)
  line L10 (132.0273, 86.5199) -> (129.0273, 86.5199)
  line L11 (129.0273, 86.5199) -> (129.0273, 83.6199)
  circle A0 centre (130.4773, 85.0699) radius 1.45
  line L12 (129.0273, 0) -> (153.0576, 0)
  line L13 (129.0273, -87.4491) -> (132.0273, -87.4491)
  line L14 (132.0273, -87.4491) -> (132.0273, -84.5491)
  line L15 (132.0273, -84.5491) -> (129.0273, -84.5491)
  line L16 (129.0273, -84.5491) -> (129.0273, -87.4491)
  circle A1 centre (130.4773, -85.9991) radius 1.45
  point P0 (0, 0)
  dimension "d44" = 3
  dimension "d45" = 2.9
ref_plane "РабПлоскость6" through (0, 0, 0) normal (0, -1, 0) x (1, 0, 0)
sketch "Эскиз9" plane through (0, 0, 0) normal (0, -1, 0) x (1, 0, 0)
  line L0 (253.39, -1.5) -> (313.0917, -1.5) projected
  line L1 (313.0917, 1.5) -> (253.39, 1.5) projected
  line L2 (313.0917, -1.5) -> (313.0917, 1.5) projected
  line L3 (253.39, 1.5) -> (253.39, -1.5) projected
  line L4 (253.39, 1.5) -> (253.39, 2)
  line L5 (253.39, 2) -> (313.0917, 2)
  line L6 (313.0917, 2) -> (313.0917, 1.5)
  line L7 (313.0917, -1.5) -> (313.0917, -2)
  line L8 (313.0917, -2) -> (253.39, -2)
  line L9 (253.39, -2) -> (253.39, -1.5)
  point P0 (0, 0)
  dimension "d77" = 0.5
  dimension "d78" = 0.5
ref_plane "РабПлоскость5" through (0, 0, 0) normal (0, -1, 0) x (1, 0, 0)
sketch "Эскиз10" plane through (0, 0, 0) normal (0, -1, 0) x (1, 0, 0)
  line L0 (220, 89.4199) -> (223, 89.4199) projected
  line L1 (223, 86.5199) -> (220, 86.5199) projected
  line L2 (223, 86.5199) -> (223, 89.4199)
  circle A0 centre (221.55, 87.9699) radius 1.45
  line L3 (223, 0) -> (202.3456, 0)
  circle A1 centre (221.55, -87.9699) radius 1.45
  point P0 (0, 0)
  dimension "d52" = 2.9
ref_plane "РабПлоскость1" through (0, 4, 0) normal (0, 1, 0) x (1, 0, 0)
sketch "Эскиз11" plane through (0, 4, 0) normal (0, 1, 0) x (1, 0, 0)
  point P0 (0, 0)
ref_plane "РабПлоскость4" through (0, 0, 0) normal (0, -1, 0) x (1, 0, 0)
sketch "Эскиз12" plane through (0, 0, 0) normal (0, -1, 0) x (1, 0, 0)
  line L0 (223, 19.9723) -> (223, 59.917) projected
  line L1 (223, 19.9723) -> (232.5, 19.9723)
  line L2 (223, 59.917) -> (223, 19.9723) projected
  line L3 (232.5, 139.4752) -> (232.5, 54.4752)
  circle A0 centre (232.5, 54.4752) radius 0.05
  point P0 (0, 0)
  point P1 (53.7435, 154.1362)
  point P2 (338.102, 47.8439)
  dimension "d55" = 9.5
  dimension "d56" = 85
  dimension "d60" = 0.1
ref_plane "РабПлоскость3" through (0, 4, 0) normal (0, 1, 0) x (1, 0, 0)
sketch "Эскиз13" plane through (0, 4, 0) normal (0, 1, 0) x (1, 0, 0)
  ellipse E0 centre (232.5, -54.5049) end of major axis (231.7, -54.5039) minor radius 0.7999 projected
  line L0 (232.4894, -27.3693) -> (232.4888, -25.7695) projected
  line L1 (233.2891, -26.566) -> (231.6891, -26.5666) projected
  line L2 (284.8274, -22.2697) -> (284.8268, -20.67) projected
  line L3 (282.5059, -69.7229) -> (284.1059, -69.7223) projected
  line L4 (283.3059, -69.7226) -> (283.3056, -68.9228) projected
  line L5 (283.3059, -69.7226) -> (283.3062, -70.5225) projected
  circle A0 centre (283.3059, -69.7226) radius 1.45
  circle A1 centre (284.8271, -21.4699) radius 1.45
  circle A2 centre (232.4891, -26.5663) radius 1.45
  circle A3 centre (232.5, -54.5049) radius 1.45
  point P0 (0, 0)
  dimension "d63" = 2.9
  dimension "d64" = 2.9
  dimension "d65" = 2.9
  dimension "d66" = 2.9
ref_plane "РабПлоскость2" through (0, 0, 0) normal (0, -1, 0) x (1, 0, 0)
sketch "Эскиз14" plane through (0, 0, 0) normal (0, -1, 0) x (1, 0, 0)
  circle A0 centre (232.4891, 26.5663) radius 1.45 projected
  circle A1 centre (232.5, 54.5049) radius 1.45 projected
  line L0 (232.4891, 26.5663) -> (232.5, 54.5049)
  circle A2 centre (232.4945, 40.5356) radius 1.5
  point P0 (0, 0)
  dimension "d79" = 3
extrude "Выдавливание15" add sketch "Эскиз1" along normal blind 4 contours S0 L21 L36 S1 L54 L38 | L66 L69 A9 L71 A11 L62 L63 L68 L21 | L68 L60 L61 A10 L70 A8 L67 L64 L36 | A12 | A13
extrude "Выдавливание16" cut sketch "Эскиз2" against normal blind 4 contours L3 L2 L1 L0 | L7 L6 L5 L4 | L11 L10 L9 L8 | L15 L14 L13 L12
extrude "Выдавливание17" cut sketch "Эскиз6" against normal blind 4
extrude "Выдавливание18" cut sketch "Эскиз3" against normal blind 4 contours L3 L2 L1 L0 | L7 L6 L5 L4 | L10 L9 L12 L8 | L16 L15 L14 L13
extrude "Выдавливание19" cut sketch "Эскиз7" against normal blind 4 contours L2 L1 L4 L0
extrude "Выдавливание20" cut sketch "Эскиз9" against normal blind 4 contours L3 L1 L2 L0
sketch "Эскиз15" plane through (0, 0, 0) normal (0, -1, 0) x (1, 0, 0)
  circle A0 centre (249.9642, 11.5109) radius 1.5 projected
  circle A1 centre (317.0133, 22.8432) radius 1.5 projected
  line L0 (384.0624, 29.1754) -> (317.0133, 17.8432) projected
  line L1 (-120.2871, 0) -> (721.7224, 0) projected
  circle A2 centre (249.9642, -11.5109) radius 1.5
  circle A3 centre (317.0133, -22.8432) radius 1.5
  line L2 (249.9642, 0) -> (219.9642, 0)
  point P0 (0, 0)
extrude "Выдавливание21" cut sketch "Эскиз15" against normal blind 4 contours A0 | A1
extrude "Выдавливание22" cut sketch "Эскиз15" against normal blind 4 contours A2 | A3
extrude "Выдавливание23" cut sketch "Эскиз8" against normal blind 4 contours A0 | A1
extrude "Выдавливание24" cut sketch "Эскиз10" against normal blind 4 contours A0 | A1
sketch "Эскиз16" plane through (0, 0, 0) normal (0, -1, 0) x (1, 0, 0)
  circle A0 centre (249.9642, -11.5109) radius 1.5 projected
  circle A1 centre (249.9642, 11.5109) radius 1.5 projected
  point P0 (0, 0)
sketch "Эскиз17" plane through (0, 0, 0) normal (0, -1, 0) x (1, 0, 0)
  line L0 (381.4354, -45) -> (351.4354, -45) projected
  line L1 (381.4354, -45) -> (296.4354, -45)
  line L2 (296.4354, -45) -> (296.4354, 45)
  line L3 (296.4354, 0) -> (326.4354, 0)
  circle A0 centre (326.4354, 0) radius 1.5
  line L4 (296.4354, -45) -> (291.4354, -45)
  line L5 (326.4354, 0) -> (391.4354, 0)
  circle A1 centre (391.4354, 0) radius 2.5
  line L6 (351.4354, 45) -> (391.4354, 0)
  point P0 (0, 0)
  dimension "d123" = 85
  dimension "d124" = 30
  dimension "d125" = 3
  dimension "d126" = 5
  dimension "d127" = 65
  dimension "d128" = 5
  dimension "d131" = 60.208
extrude "Выдавливание25" cut sketch "Эскиз17" against normal blind 4
properties part number "Голова+шея"
